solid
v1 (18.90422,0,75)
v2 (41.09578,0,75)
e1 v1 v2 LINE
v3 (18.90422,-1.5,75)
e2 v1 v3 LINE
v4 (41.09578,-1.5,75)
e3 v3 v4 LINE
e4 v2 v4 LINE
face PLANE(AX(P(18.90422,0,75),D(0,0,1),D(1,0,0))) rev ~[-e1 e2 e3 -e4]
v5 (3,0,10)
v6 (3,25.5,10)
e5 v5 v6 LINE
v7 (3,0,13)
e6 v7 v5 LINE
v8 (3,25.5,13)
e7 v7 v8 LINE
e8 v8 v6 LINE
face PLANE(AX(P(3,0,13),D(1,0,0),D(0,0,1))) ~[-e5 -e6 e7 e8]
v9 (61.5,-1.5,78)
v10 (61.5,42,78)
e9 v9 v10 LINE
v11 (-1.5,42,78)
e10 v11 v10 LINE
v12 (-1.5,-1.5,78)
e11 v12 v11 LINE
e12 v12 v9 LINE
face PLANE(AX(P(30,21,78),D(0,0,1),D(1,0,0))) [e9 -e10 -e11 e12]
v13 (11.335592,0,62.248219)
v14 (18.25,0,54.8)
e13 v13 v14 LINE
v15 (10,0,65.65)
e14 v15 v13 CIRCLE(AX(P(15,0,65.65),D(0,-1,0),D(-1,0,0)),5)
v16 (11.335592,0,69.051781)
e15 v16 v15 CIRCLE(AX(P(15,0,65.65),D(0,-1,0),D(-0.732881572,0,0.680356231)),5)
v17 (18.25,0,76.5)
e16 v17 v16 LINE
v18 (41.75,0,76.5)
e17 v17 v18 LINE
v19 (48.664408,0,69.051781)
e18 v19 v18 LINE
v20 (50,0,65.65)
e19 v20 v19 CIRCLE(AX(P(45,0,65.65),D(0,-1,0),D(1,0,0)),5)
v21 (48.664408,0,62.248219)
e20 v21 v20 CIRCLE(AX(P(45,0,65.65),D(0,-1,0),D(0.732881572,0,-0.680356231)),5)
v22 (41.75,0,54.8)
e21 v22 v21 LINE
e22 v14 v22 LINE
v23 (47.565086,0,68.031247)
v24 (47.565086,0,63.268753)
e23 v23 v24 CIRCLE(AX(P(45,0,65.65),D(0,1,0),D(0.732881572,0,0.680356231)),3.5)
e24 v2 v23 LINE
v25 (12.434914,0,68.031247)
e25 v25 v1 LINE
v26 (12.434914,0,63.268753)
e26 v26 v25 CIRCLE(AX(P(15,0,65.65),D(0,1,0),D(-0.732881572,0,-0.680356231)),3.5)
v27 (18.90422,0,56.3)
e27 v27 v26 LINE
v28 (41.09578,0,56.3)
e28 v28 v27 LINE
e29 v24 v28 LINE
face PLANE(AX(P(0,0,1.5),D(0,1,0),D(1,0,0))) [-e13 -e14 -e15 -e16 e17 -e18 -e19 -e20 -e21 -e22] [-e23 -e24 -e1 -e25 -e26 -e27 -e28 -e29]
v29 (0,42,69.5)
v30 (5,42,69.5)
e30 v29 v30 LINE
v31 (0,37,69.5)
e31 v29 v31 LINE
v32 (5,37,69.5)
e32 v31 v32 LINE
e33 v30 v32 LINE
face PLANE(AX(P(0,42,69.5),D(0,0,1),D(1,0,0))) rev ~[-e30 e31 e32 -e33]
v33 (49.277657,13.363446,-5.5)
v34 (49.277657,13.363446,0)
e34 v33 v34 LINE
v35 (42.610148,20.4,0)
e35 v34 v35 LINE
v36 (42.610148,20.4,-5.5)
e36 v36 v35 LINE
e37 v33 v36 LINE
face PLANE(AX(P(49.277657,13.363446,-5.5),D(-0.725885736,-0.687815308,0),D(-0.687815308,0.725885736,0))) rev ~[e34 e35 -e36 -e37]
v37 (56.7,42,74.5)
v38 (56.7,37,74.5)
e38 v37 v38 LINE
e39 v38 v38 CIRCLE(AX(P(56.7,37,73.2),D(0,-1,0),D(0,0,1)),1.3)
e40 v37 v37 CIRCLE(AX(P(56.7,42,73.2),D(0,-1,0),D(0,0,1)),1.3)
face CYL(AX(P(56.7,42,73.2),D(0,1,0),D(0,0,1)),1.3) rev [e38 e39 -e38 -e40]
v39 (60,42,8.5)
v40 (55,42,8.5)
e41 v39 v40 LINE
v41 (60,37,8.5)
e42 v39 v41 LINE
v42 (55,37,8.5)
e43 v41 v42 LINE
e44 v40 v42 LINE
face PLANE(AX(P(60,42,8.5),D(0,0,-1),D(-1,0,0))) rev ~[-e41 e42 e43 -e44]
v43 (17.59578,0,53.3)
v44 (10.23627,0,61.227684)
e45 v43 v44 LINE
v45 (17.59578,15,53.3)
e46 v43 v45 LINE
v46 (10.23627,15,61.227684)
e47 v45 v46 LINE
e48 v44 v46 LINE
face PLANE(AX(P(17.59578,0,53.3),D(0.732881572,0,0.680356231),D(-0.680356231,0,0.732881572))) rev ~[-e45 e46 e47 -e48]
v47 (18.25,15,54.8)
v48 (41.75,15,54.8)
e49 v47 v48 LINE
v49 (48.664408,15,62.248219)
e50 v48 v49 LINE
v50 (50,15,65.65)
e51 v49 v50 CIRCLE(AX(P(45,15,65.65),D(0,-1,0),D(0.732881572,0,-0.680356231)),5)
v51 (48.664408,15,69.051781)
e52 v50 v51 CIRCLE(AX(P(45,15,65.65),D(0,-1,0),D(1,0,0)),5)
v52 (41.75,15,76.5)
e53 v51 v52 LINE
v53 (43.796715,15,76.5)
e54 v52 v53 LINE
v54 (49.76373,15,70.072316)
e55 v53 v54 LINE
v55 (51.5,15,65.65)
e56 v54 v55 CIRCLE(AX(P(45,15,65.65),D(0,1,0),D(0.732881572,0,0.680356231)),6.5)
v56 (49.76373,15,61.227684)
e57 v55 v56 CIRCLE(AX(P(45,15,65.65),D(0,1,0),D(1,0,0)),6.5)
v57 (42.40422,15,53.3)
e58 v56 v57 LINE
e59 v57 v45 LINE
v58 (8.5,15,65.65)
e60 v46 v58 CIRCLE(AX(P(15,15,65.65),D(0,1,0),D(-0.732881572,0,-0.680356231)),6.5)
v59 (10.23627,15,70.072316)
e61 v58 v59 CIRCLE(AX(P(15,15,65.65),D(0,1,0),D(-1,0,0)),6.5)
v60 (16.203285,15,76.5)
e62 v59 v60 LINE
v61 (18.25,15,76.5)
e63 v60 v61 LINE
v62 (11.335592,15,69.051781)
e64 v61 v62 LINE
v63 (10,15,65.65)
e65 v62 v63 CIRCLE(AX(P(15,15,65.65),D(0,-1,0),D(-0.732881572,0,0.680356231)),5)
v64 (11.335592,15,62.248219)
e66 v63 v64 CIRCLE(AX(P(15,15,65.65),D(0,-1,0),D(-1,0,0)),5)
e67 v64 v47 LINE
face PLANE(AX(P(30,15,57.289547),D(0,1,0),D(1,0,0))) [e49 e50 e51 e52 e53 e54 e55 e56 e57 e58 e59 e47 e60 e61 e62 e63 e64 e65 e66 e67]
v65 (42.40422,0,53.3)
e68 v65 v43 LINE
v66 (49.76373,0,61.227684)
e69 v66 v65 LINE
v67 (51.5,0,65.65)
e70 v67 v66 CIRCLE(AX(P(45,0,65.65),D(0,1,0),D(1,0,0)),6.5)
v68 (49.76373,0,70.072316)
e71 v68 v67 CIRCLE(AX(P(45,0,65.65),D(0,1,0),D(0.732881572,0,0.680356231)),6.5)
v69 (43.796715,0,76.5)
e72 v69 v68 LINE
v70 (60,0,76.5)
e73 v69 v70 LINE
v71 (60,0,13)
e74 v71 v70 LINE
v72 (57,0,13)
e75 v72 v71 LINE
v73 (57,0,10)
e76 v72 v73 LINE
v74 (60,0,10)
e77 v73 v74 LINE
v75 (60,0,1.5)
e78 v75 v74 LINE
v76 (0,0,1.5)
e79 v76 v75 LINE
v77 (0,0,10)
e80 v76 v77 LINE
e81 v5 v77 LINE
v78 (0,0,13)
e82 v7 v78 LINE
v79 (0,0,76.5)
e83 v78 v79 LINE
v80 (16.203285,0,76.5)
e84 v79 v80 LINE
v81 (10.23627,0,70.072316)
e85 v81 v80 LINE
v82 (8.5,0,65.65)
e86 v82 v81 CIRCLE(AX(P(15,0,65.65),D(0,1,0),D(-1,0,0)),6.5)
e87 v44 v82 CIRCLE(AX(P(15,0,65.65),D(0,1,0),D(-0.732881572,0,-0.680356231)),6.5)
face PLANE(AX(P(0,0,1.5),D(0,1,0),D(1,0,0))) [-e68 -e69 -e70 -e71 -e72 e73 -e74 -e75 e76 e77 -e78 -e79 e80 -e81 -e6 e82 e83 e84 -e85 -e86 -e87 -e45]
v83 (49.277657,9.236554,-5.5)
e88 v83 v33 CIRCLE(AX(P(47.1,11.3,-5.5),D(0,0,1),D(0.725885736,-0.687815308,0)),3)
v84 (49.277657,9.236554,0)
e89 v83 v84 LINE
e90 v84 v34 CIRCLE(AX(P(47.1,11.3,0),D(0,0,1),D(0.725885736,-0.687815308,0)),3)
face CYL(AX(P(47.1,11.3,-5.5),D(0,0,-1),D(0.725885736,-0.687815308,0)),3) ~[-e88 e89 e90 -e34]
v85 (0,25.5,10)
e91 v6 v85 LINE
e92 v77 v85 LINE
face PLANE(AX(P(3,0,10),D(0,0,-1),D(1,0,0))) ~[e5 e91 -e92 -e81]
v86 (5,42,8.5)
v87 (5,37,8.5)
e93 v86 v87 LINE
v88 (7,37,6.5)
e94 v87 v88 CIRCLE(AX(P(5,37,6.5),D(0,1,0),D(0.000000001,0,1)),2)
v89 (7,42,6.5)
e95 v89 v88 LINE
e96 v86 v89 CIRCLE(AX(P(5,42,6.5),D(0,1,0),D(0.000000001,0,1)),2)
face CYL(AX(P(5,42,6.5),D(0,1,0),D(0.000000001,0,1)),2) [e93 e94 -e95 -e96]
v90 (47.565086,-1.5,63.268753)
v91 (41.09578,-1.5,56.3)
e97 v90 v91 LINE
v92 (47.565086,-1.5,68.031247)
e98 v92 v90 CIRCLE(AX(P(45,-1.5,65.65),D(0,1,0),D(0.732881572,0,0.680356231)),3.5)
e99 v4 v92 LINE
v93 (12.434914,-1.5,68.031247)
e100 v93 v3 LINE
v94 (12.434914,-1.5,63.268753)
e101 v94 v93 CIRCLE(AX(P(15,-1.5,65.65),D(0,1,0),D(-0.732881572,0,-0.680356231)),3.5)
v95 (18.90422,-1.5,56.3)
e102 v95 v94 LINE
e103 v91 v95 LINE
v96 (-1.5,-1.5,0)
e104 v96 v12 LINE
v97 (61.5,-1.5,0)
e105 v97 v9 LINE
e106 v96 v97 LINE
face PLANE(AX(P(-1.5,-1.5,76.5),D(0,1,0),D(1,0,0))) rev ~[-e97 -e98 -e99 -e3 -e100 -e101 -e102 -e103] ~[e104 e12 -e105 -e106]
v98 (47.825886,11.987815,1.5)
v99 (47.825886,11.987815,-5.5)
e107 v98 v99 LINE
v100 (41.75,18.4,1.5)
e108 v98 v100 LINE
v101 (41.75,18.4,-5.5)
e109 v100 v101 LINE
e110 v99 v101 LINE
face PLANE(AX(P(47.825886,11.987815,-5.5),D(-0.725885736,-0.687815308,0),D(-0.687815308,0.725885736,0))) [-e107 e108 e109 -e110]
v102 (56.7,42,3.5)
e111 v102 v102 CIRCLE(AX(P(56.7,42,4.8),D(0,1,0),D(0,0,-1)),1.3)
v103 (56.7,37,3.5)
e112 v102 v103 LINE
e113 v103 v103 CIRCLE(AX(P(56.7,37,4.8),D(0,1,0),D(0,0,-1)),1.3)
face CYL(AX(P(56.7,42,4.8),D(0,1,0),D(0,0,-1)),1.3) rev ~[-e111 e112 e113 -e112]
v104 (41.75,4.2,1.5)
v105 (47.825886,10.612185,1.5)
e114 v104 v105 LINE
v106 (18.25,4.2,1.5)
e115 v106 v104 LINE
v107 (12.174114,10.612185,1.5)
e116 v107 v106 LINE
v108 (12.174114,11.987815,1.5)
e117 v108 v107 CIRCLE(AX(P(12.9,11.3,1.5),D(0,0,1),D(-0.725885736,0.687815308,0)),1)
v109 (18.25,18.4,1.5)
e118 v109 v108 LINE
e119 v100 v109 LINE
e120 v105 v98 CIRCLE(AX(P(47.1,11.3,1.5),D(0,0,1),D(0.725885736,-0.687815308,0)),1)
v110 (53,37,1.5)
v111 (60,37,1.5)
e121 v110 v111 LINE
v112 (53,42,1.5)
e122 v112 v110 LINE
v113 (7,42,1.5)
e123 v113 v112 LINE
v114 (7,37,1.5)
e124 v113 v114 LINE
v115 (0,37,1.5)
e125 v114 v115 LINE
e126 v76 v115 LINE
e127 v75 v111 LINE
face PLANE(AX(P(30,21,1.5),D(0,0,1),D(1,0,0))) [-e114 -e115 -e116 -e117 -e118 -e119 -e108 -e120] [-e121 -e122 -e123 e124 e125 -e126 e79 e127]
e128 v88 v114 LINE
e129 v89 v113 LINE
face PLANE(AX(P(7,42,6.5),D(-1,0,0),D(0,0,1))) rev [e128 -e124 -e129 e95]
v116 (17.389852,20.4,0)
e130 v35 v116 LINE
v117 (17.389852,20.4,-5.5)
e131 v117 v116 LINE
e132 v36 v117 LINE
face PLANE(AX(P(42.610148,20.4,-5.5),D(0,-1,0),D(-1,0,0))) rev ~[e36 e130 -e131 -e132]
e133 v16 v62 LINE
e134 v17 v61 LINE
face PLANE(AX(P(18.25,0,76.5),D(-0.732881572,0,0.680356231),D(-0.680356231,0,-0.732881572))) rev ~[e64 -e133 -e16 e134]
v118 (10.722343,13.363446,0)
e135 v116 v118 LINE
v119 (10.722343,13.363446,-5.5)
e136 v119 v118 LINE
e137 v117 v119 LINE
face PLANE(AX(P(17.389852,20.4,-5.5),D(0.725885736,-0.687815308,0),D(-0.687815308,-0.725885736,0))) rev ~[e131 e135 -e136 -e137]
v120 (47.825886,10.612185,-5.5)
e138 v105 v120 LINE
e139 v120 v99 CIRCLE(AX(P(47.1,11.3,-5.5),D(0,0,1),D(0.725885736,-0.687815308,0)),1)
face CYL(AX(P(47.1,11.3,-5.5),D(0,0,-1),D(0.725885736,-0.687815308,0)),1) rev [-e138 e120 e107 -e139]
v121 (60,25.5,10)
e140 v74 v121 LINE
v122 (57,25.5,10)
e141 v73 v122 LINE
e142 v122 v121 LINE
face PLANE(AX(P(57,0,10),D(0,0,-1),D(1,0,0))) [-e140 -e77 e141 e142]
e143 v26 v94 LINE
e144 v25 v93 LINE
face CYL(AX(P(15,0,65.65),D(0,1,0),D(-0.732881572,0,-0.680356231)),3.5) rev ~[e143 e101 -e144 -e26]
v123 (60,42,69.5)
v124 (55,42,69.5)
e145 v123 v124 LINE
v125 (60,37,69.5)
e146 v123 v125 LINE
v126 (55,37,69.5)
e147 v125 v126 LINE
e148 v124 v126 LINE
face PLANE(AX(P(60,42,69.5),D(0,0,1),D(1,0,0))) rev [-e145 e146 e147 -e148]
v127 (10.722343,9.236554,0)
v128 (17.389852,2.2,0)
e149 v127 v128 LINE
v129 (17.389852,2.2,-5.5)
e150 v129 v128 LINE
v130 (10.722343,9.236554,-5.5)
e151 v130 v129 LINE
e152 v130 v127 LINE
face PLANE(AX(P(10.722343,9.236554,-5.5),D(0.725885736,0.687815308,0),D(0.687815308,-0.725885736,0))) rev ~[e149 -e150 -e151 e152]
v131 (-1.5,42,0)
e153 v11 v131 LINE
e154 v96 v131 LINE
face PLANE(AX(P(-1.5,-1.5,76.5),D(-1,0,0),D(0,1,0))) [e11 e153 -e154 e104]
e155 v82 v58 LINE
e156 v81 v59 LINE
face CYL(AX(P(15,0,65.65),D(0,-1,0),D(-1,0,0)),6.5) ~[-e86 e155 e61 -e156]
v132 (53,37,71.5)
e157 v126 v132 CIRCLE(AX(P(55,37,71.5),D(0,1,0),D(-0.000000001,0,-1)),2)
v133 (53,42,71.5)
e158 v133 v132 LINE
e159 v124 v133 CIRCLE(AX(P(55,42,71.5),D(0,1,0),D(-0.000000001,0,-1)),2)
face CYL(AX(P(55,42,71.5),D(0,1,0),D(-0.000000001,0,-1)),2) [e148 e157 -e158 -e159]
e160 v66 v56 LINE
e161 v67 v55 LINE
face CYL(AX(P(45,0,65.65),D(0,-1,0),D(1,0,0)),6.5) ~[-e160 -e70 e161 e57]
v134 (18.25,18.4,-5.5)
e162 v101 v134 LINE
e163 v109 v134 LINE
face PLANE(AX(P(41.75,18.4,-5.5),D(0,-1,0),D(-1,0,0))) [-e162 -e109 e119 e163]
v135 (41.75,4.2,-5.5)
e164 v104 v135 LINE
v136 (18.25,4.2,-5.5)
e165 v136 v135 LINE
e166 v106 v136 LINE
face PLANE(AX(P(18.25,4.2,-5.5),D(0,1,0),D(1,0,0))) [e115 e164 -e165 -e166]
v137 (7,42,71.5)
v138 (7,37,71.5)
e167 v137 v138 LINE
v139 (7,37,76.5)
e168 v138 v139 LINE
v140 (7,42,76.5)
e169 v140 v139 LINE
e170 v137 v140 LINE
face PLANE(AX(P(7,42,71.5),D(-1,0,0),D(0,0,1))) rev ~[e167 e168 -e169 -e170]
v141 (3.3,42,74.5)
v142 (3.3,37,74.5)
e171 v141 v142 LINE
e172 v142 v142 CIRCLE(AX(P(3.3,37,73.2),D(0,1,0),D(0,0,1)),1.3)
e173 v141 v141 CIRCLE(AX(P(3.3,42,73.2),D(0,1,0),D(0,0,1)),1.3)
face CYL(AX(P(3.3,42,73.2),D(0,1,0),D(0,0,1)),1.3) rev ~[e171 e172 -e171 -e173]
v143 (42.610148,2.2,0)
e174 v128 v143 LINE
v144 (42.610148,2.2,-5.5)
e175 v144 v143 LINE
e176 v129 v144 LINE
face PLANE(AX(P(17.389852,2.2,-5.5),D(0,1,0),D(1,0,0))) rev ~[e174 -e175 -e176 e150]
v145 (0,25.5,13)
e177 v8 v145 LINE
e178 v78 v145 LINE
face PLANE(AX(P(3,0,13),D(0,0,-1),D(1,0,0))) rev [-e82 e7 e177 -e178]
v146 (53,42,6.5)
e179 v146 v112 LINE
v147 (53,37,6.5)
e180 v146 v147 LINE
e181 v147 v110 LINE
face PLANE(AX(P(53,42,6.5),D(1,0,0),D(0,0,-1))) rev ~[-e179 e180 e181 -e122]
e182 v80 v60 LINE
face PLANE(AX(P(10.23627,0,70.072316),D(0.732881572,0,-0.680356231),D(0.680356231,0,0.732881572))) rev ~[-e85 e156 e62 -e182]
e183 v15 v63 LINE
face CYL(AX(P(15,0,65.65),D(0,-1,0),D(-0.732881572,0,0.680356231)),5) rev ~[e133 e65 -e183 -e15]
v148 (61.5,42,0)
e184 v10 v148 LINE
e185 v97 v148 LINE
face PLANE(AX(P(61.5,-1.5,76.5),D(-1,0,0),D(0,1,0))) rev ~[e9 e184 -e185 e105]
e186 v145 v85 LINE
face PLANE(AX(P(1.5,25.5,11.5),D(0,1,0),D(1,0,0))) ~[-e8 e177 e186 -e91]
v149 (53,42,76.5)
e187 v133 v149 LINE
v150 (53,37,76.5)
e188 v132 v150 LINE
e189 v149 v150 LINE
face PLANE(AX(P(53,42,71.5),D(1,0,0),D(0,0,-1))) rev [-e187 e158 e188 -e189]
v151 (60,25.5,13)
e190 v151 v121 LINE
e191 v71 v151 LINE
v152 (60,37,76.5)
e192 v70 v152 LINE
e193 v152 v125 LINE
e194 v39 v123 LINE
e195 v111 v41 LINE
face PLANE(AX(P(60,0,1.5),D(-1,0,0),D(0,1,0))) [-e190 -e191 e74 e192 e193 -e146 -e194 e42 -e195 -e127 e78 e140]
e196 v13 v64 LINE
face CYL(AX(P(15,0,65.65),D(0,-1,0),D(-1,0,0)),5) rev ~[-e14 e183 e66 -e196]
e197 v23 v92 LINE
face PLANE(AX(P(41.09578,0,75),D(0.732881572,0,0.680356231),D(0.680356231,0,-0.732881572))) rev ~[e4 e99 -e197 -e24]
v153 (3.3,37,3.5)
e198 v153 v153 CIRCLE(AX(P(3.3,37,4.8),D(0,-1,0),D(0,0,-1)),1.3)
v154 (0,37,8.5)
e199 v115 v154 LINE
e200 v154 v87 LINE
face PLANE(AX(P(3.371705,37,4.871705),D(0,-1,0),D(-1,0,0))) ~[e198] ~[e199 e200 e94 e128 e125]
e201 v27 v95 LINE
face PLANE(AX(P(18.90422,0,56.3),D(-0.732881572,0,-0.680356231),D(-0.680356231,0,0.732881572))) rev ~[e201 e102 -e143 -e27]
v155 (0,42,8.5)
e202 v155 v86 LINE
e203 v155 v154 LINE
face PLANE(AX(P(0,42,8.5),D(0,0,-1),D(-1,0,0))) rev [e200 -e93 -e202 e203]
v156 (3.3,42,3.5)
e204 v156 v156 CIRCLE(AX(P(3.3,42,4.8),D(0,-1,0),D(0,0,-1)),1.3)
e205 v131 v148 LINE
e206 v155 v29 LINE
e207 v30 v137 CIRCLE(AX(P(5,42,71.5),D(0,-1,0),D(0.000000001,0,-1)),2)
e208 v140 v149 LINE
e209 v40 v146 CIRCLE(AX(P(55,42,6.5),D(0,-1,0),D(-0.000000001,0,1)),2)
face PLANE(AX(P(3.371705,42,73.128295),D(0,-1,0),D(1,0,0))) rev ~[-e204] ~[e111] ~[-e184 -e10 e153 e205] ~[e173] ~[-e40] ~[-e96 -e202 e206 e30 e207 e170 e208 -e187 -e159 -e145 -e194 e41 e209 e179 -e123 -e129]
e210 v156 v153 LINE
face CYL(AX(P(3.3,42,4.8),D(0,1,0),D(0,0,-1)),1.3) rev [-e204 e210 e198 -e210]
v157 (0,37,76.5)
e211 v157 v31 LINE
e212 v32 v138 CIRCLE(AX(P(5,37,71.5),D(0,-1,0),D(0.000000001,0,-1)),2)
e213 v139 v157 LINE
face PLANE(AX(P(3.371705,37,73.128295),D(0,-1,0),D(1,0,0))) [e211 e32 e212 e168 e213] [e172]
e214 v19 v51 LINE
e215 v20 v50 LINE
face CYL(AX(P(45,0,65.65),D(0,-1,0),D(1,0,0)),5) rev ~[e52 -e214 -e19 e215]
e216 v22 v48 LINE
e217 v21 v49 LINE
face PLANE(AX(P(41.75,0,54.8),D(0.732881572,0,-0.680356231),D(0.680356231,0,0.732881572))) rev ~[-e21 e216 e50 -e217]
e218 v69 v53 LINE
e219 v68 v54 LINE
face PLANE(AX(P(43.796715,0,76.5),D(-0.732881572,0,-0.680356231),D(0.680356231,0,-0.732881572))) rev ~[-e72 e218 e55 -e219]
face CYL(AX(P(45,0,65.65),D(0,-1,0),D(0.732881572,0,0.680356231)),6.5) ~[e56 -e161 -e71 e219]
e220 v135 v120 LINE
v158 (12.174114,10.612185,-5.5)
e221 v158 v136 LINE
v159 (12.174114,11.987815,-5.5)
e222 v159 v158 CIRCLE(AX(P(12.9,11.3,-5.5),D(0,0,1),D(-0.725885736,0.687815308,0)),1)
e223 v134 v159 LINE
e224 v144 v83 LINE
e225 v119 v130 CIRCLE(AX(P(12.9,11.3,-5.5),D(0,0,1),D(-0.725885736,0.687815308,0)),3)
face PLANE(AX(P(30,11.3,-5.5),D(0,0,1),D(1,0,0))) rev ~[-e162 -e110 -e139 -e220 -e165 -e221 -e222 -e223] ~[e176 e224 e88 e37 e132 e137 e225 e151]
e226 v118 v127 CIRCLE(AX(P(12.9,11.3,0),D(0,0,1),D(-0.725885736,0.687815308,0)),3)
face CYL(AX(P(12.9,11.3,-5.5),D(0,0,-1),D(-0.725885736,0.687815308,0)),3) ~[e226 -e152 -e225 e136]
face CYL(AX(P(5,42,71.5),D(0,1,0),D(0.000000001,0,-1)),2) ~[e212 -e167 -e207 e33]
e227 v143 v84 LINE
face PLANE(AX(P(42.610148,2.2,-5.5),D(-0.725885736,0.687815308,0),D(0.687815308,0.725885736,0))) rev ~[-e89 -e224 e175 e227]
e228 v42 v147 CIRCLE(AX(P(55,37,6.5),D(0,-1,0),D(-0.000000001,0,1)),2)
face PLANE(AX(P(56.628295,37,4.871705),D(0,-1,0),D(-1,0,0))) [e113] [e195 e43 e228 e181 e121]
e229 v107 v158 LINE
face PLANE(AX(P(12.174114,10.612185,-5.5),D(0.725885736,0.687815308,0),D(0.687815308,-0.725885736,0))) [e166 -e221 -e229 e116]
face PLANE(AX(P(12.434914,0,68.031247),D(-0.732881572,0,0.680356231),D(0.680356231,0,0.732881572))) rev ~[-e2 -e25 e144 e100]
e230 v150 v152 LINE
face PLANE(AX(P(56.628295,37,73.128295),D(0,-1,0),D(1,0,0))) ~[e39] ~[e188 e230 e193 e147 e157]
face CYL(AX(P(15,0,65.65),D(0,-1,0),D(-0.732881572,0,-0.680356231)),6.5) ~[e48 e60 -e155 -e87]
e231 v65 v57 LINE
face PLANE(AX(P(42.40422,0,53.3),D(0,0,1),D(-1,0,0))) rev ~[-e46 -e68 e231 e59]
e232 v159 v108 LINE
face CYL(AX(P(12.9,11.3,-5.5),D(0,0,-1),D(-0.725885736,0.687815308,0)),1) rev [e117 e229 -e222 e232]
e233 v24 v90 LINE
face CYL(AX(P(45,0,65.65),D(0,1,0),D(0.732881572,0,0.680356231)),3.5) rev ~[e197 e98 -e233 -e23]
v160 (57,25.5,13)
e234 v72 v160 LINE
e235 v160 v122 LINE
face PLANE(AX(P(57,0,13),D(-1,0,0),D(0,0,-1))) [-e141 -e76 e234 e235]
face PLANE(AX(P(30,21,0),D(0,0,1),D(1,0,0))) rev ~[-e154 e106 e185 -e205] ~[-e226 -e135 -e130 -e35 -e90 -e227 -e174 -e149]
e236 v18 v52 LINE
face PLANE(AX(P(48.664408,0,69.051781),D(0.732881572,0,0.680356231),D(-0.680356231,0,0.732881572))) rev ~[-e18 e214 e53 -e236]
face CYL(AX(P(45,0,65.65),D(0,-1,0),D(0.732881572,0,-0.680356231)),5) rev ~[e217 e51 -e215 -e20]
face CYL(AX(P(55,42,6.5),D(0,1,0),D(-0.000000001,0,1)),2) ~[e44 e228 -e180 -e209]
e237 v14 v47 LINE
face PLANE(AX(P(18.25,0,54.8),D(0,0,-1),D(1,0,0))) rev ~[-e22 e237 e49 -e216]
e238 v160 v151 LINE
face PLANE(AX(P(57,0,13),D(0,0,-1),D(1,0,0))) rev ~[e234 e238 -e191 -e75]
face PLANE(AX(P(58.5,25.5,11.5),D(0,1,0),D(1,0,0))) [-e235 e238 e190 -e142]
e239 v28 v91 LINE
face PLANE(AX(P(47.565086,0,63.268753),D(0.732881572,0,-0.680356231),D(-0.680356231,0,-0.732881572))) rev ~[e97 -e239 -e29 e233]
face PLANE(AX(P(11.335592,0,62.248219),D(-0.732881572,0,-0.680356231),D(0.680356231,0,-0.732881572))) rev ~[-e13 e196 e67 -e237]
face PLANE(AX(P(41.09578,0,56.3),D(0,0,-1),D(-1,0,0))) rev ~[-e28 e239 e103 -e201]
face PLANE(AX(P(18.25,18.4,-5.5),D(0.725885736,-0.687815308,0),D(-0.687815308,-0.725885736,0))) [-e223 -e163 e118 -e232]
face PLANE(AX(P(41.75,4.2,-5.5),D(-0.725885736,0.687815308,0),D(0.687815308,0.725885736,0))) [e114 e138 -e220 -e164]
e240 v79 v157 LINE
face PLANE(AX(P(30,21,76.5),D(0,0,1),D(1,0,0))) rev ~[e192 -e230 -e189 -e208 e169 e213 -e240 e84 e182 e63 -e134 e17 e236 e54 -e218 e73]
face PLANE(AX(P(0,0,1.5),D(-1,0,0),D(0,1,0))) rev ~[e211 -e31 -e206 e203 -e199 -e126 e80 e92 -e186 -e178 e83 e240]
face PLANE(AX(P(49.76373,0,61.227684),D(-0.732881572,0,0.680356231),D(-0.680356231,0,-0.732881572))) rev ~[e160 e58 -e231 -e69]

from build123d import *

# Parameters (mm, degrees)
ESBO_O1_W                 = 63
ESBO_O1_H                 = 45
ESBO_O1_W_2               = 60
ESBO_O1_H_2               = 42
RESSALTO_EXTRUS_O2_DEPTH  = 1.5
RESSALTO_EXTRUS_O3_START  = 1.5
ESBO_O1_3_W               = 63
ESBO_O1_3_H               = 45
ESBO_O1_3_W_2             = 60
ESBO_O1_3_H_2             = 42
RESSALTO_EXTRUS_O3_DEPTH  = 75
RESSALTO_EXTRUS_O4_DEPTH  = 15
CORTE_EXTRUS_O1_DEPTH     = 27
ESBO_O4_W                 = 63
ESBO_O4_H                 = 45
RESSALTO_EXTRUS_O6_DEPTH  = 1.5
ESBO_O5_W                 = 63
ESBO_O5_H                 = 1.5
CORTE_EXTRUS_O2_DEPTH     = 109.436617432
RESSALTO_EXTRUS_O7_START  = 42
ESBO_O6_R                 = 1.3
RESSALTO_EXTRUS_O7_DEPTH  = 5
ESPELHAR2_START           = 42
ESPELHAR2_COPY_1_SKETCH_R = 1.3
ESPELHAR2_COPY_1_DEPTH    = 5
RESSALTO_EXTRUS_O8_START  = -5.5
RESSALTO_EXTRUS_O8_DEPTH  = 5.5
ESBO_O7_W                 = 3
ESBO_O7_H                 = 3
RESSALTO_EXTRUS_O9_DEPTH  = 25.5


with BuildPart() as part:
    # Esboço1 → Ressalto-extrusão2 (new body)
    # profile 1 of 3: a face of its own
    with BuildSketch(Plane.XY):
        with Locations((30, 21)):
            Rectangle(ESBO_O1_W, ESBO_O1_H)
        with Locations((30, 21)):
            Rectangle(ESBO_O1_W_2, ESBO_O1_H_2, mode=Mode.SUBTRACT)
    # profile 2 of 3: a face of its own
    with BuildSketch(Plane.XY):
        with Locations((30, 21)):
            Rectangle(ESBO_O1_W_2, ESBO_O1_H_2)
        with BuildLine():
            ThreePointArc((12.174114264, 11.987815308), (11.9, 11.3), (12.174114264, 10.612184692))
            Line((12.174114264, 10.612184692), (18.25, 4.2))
            Line((18.25, 4.2), (41.75, 4.2))
            Line((41.75, 4.2), (47.825885736, 10.612184692))
            ThreePointArc((47.825885736, 10.612184692), (48.1, 11.3), (47.825885736, 11.987815308))
            Line((47.825885736, 11.987815308), (41.75, 18.4))
            Line((41.75, 18.4), (18.25, 18.4))
            Line((18.25, 18.4), (12.174114264, 11.987815308))
        make_face(mode=Mode.SUBTRACT)
    # profile 3 of 3: a face of its own
    with BuildSketch(Plane.XY):
        with Locations((30, 21)):
            Rectangle(ESBO_O1_W_2, ESBO_O1_H_2)
        with BuildLine():
            ThreePointArc((10.722342792, 13.363445925), (9.9, 11.3), (10.722342792, 9.236554075))
            Line((10.722342792, 9.236554075), (17.389851698, 2.2))
            Line((17.389851698, 2.2), (42.610148302, 2.2))
            Line((42.610148302, 2.2), (49.277657208, 9.236554075))
            ThreePointArc((49.277657208, 9.236554075), (50.1, 11.3), (49.277657208, 13.363445925))
            Line((49.277657208, 13.363445925), (42.610148302, 20.4))
            Line((42.610148302, 20.4), (17.389851698, 20.4))
            Line((17.389851698, 20.4), (10.722342792, 13.363445925))
        make_face(mode=Mode.SUBTRACT)
    extrude(amount=RESSALTO_EXTRUS_O2_DEPTH)

    # Esboço1<3> → Ressalto-extrusão3 (add)
    with BuildSketch(Plane.XY.offset(RESSALTO_EXTRUS_O3_START)):
        with Locations((30, 21)):
            Rectangle(ESBO_O1_3_W, ESBO_O1_3_H)
        with Locations((30, 21)):
            Rectangle(ESBO_O1_3_W_2, ESBO_O1_3_H_2, mode=Mode.SUBTRACT)
    extrude(amount=RESSALTO_EXTRUS_O3_DEPTH)

    # Esboço2 → Ressalto-extrusão4 (add)
    with BuildSketch(Plane(origin=(0, 0, 0), x_dir=(1, 0, 0), z_dir=(0, 1, 0))):
        with BuildLine():
            Line((18.25, -54.8), (41.75, -54.8))
            Line((41.75, -54.8), (48.66440786, -62.248218844))
            ThreePointArc((48.66440786, -62.248218844), (49.654140055, -63.822712297), (50, -65.65))
            Line((50, -65.65), (51.5, -65.65))
            ThreePointArc((51.5, -65.65), (51.050382071, -63.274525986), (49.763730218, -61.227684497))
            Line((49.763730218, -61.227684497), (42.404219824, -53.3))
            Line((42.404219824, -53.3), (17.595780176, -53.3))
            Line((17.595780176, -53.3), (10.236269782, -61.227684497))
            ThreePointArc((10.236269782, -61.227684497), (8.949617929, -63.274525986), (8.5, -65.65))
            Line((8.5, -65.65), (10, -65.65))
            ThreePointArc((10, -65.65), (10.345859945, -63.822712297), (11.33559214, -62.248218844))
            Line((11.33559214, -62.248218844), (18.25, -54.8))
        make_face()
        with BuildLine():
            ThreePointArc((11.33559214, -69.051781156), (10.345859945, -67.477287703), (10, -65.65))
            Line((10, -65.65), (8.5, -65.65))
            ThreePointArc((8.5, -65.65), (8.949617929, -68.025474014), (10.236269782, -70.072315503))
            Line((10.236269782, -70.072315503), (16.2032846, -76.5))
            Line((16.2032846, -76.5), (18.25, -76.5))
            Line((18.25, -76.5), (11.33559214, -69.051781156))
        make_face()
        with BuildLine():
            Line((51.5, -65.65), (50, -65.65))
            ThreePointArc((50, -65.65), (49.654140055, -67.477287703), (48.66440786, -69.051781156))
            Line((48.66440786, -69.051781156), (41.75, -76.5))
            Line((41.75, -76.5), (43.7967154, -76.5))
            Line((43.7967154, -76.5), (49.763730218, -70.072315503))
            ThreePointArc((49.763730218, -70.072315503), (51.050382071, -68.025474014), (51.5, -65.65))
        make_face()
    extrude(amount=RESSALTO_EXTRUS_O4_DEPTH)

    # Esboço2<3> → Corte-extrusão1 (cut)
    with BuildSketch(Plane(origin=(0, 0, 0), x_dir=(1, 0, 0), z_dir=(0, 1, 0))):
        with BuildLine():
            Line((41.095780176, -56.3), (30, -56.3))
            Line((30, -56.3), (30, -75))
            Line((30, -75), (41.095780176, -75))
            Line((41.095780176, -75), (47.565085502, -68.031246809))
            ThreePointArc((47.565085502, -68.031246809), (48.5, -65.65), (47.565085502, -63.268753191))
            Line((47.565085502, -63.268753191), (41.095780176, -56.3))
        make_face()
        with BuildLine():
            Line((30, -75), (30, -56.3))
            Line((30, -56.3), (18.904219824, -56.3))
            Line((18.904219824, -56.3), (12.434914498, -63.268753191))
            ThreePointArc((12.434914498, -63.268753191), (11.5, -65.65), (12.434914498, -68.031246809))
            Line((12.434914498, -68.031246809), (18.904219824, -75))
            Line((18.904219824, -75), (30, -75))
        make_face()
    extrude(amount=-CORTE_EXTRUS_O1_DEPTH, mode=Mode.SUBTRACT)

    # Esboço4 → Ressalto-extrusão6 (add)
    with BuildSketch(Plane.XY.offset(76.5)):
        with Locations((30, 21)):
            Rectangle(ESBO_O4_W, ESBO_O4_H)
    extrude(amount=RESSALTO_EXTRUS_O6_DEPTH)

    # Esboço5 → Corte-extrusão2 (cut, through all)
    with BuildSketch(Plane.XY.offset(78)):
        with Locations((30, 42.75)):
            Rectangle(ESBO_O5_W, ESBO_O5_H)
    extrude(amount=-CORTE_EXTRUS_O2_DEPTH, mode=Mode.SUBTRACT)

    # Esboço6 → Ressalto-extrusão7 (add)
    with BuildSketch(Plane(origin=(0, 0, 0), x_dir=(1, 0, 0), z_dir=(0, 1, 0)).offset(RESSALTO_EXTRUS_O7_START)):
        with BuildLine():
            Line((60, -1.5), (60, -8.5))
            Line((60, -8.5), (55, -8.5))
            ThreePointArc((55, -8.5), (53.585786438, -7.914213562), (53, -6.5))
            Line((53, -6.5), (53, -1.5))
            Line((53, -1.5), (60, -1.5))
        make_face()
        with Locations(Location((56.7, -4.8, 0), (0, 0, 90))):
            Circle(ESBO_O6_R, mode=Mode.SUBTRACT)
    ressalto_extrus_o7 = extrude(amount=-RESSALTO_EXTRUS_O7_DEPTH)

    # Espelhar1: Ressalto-extrusão7 across plane
    add(ressalto_extrus_o7.mirror(Plane.XY.offset(39)))

    # Espelhar2: Ressalto-extrusão7 across plane
    add(ressalto_extrus_o7.mirror(Plane.ZY.offset(-30)))

    # Espelhar2 copy 1 sketch → Espelhar2 copy 1 (add)
    with BuildSketch(Plane(origin=(60, 0, 78), x_dir=(-1, 0, 0), z_dir=(0, 1, 0)).offset(ESPELHAR2_START)):
        with BuildLine():
            Line((60, -1.5), (60, -8.5))
            Line((60, -8.5), (55, -8.5))
            ThreePointArc((55, -8.5), (53.585786438, -7.914213562), (53, -6.5))
            Line((53, -6.5), (53, -1.5))
            Line((53, -1.5), (60, -1.5))
        make_face()
        with Locations(Location((56.7, -4.8, 0), (0, 0, 90))):
            Circle(ESPELHAR2_COPY_1_SKETCH_R, mode=Mode.SUBTRACT)
    extrude(amount=-ESPELHAR2_COPY_1_DEPTH)

    # Esboço1<4> → Ressalto-extrusão8 (add)
    with BuildSketch(Plane.XY.offset(RESSALTO_EXTRUS_O8_START)):
        with BuildLine():
            Line((17.389851698, 20.4), (10.722342792, 13.363445925))
            ThreePointArc((10.722342792, 13.363445925), (9.9, 11.3), (10.722342792, 9.236554075))
            Line((10.722342792, 9.236554075), (17.389851698, 2.2))
            Line((17.389851698, 2.2), (42.610148302, 2.2))
            Line((42.610148302, 2.2), (49.277657208, 9.236554075))
            ThreePointArc((49.277657208, 9.236554075), (50.1, 11.3), (49.277657208, 13.363445925))
            Line((49.277657208, 13.363445925), (42.610148302, 20.4))
            Line((42.610148302, 20.4), (17.389851698, 20.4))
        make_face()
        with BuildLine():
            ThreePointArc((12.174114264, 11.987815308), (11.9, 11.3), (12.174114264, 10.612184692))
            Line((12.174114264, 10.612184692), (18.25, 4.2))
            Line((18.25, 4.2), (41.75, 4.2))
            Line((41.75, 4.2), (47.825885736, 10.612184692))
            ThreePointArc((47.825885736, 10.612184692), (48.1, 11.3), (47.825885736, 11.987815308))
            Line((47.825885736, 11.987815308), (41.75, 18.4))
            Line((41.75, 18.4), (18.25, 18.4))
            Line((18.25, 18.4), (12.174114264, 11.987815308))
        make_face(mode=Mode.SUBTRACT)
    extrude(amount=RESSALTO_EXTRUS_O8_DEPTH)

    # Esboço7 → Ressalto-extrusão9 (add)
    with BuildSketch(Plane(origin=(0, 0, 0), x_dir=(1, 0, 0), z_dir=(0, 1, 0))):
        with Locations((58.5, -11.5)):
            Rectangle(ESBO_O7_W, ESBO_O7_H)
    ressalto_extrus_o9 = extrude(amount=RESSALTO_EXTRUS_O9_DEPTH)

    # Espelhar3: Ressalto-extrusão9 across plane
    add(ressalto_extrus_o9.mirror(Plane.ZY.offset(-30)))


solid = part.part
